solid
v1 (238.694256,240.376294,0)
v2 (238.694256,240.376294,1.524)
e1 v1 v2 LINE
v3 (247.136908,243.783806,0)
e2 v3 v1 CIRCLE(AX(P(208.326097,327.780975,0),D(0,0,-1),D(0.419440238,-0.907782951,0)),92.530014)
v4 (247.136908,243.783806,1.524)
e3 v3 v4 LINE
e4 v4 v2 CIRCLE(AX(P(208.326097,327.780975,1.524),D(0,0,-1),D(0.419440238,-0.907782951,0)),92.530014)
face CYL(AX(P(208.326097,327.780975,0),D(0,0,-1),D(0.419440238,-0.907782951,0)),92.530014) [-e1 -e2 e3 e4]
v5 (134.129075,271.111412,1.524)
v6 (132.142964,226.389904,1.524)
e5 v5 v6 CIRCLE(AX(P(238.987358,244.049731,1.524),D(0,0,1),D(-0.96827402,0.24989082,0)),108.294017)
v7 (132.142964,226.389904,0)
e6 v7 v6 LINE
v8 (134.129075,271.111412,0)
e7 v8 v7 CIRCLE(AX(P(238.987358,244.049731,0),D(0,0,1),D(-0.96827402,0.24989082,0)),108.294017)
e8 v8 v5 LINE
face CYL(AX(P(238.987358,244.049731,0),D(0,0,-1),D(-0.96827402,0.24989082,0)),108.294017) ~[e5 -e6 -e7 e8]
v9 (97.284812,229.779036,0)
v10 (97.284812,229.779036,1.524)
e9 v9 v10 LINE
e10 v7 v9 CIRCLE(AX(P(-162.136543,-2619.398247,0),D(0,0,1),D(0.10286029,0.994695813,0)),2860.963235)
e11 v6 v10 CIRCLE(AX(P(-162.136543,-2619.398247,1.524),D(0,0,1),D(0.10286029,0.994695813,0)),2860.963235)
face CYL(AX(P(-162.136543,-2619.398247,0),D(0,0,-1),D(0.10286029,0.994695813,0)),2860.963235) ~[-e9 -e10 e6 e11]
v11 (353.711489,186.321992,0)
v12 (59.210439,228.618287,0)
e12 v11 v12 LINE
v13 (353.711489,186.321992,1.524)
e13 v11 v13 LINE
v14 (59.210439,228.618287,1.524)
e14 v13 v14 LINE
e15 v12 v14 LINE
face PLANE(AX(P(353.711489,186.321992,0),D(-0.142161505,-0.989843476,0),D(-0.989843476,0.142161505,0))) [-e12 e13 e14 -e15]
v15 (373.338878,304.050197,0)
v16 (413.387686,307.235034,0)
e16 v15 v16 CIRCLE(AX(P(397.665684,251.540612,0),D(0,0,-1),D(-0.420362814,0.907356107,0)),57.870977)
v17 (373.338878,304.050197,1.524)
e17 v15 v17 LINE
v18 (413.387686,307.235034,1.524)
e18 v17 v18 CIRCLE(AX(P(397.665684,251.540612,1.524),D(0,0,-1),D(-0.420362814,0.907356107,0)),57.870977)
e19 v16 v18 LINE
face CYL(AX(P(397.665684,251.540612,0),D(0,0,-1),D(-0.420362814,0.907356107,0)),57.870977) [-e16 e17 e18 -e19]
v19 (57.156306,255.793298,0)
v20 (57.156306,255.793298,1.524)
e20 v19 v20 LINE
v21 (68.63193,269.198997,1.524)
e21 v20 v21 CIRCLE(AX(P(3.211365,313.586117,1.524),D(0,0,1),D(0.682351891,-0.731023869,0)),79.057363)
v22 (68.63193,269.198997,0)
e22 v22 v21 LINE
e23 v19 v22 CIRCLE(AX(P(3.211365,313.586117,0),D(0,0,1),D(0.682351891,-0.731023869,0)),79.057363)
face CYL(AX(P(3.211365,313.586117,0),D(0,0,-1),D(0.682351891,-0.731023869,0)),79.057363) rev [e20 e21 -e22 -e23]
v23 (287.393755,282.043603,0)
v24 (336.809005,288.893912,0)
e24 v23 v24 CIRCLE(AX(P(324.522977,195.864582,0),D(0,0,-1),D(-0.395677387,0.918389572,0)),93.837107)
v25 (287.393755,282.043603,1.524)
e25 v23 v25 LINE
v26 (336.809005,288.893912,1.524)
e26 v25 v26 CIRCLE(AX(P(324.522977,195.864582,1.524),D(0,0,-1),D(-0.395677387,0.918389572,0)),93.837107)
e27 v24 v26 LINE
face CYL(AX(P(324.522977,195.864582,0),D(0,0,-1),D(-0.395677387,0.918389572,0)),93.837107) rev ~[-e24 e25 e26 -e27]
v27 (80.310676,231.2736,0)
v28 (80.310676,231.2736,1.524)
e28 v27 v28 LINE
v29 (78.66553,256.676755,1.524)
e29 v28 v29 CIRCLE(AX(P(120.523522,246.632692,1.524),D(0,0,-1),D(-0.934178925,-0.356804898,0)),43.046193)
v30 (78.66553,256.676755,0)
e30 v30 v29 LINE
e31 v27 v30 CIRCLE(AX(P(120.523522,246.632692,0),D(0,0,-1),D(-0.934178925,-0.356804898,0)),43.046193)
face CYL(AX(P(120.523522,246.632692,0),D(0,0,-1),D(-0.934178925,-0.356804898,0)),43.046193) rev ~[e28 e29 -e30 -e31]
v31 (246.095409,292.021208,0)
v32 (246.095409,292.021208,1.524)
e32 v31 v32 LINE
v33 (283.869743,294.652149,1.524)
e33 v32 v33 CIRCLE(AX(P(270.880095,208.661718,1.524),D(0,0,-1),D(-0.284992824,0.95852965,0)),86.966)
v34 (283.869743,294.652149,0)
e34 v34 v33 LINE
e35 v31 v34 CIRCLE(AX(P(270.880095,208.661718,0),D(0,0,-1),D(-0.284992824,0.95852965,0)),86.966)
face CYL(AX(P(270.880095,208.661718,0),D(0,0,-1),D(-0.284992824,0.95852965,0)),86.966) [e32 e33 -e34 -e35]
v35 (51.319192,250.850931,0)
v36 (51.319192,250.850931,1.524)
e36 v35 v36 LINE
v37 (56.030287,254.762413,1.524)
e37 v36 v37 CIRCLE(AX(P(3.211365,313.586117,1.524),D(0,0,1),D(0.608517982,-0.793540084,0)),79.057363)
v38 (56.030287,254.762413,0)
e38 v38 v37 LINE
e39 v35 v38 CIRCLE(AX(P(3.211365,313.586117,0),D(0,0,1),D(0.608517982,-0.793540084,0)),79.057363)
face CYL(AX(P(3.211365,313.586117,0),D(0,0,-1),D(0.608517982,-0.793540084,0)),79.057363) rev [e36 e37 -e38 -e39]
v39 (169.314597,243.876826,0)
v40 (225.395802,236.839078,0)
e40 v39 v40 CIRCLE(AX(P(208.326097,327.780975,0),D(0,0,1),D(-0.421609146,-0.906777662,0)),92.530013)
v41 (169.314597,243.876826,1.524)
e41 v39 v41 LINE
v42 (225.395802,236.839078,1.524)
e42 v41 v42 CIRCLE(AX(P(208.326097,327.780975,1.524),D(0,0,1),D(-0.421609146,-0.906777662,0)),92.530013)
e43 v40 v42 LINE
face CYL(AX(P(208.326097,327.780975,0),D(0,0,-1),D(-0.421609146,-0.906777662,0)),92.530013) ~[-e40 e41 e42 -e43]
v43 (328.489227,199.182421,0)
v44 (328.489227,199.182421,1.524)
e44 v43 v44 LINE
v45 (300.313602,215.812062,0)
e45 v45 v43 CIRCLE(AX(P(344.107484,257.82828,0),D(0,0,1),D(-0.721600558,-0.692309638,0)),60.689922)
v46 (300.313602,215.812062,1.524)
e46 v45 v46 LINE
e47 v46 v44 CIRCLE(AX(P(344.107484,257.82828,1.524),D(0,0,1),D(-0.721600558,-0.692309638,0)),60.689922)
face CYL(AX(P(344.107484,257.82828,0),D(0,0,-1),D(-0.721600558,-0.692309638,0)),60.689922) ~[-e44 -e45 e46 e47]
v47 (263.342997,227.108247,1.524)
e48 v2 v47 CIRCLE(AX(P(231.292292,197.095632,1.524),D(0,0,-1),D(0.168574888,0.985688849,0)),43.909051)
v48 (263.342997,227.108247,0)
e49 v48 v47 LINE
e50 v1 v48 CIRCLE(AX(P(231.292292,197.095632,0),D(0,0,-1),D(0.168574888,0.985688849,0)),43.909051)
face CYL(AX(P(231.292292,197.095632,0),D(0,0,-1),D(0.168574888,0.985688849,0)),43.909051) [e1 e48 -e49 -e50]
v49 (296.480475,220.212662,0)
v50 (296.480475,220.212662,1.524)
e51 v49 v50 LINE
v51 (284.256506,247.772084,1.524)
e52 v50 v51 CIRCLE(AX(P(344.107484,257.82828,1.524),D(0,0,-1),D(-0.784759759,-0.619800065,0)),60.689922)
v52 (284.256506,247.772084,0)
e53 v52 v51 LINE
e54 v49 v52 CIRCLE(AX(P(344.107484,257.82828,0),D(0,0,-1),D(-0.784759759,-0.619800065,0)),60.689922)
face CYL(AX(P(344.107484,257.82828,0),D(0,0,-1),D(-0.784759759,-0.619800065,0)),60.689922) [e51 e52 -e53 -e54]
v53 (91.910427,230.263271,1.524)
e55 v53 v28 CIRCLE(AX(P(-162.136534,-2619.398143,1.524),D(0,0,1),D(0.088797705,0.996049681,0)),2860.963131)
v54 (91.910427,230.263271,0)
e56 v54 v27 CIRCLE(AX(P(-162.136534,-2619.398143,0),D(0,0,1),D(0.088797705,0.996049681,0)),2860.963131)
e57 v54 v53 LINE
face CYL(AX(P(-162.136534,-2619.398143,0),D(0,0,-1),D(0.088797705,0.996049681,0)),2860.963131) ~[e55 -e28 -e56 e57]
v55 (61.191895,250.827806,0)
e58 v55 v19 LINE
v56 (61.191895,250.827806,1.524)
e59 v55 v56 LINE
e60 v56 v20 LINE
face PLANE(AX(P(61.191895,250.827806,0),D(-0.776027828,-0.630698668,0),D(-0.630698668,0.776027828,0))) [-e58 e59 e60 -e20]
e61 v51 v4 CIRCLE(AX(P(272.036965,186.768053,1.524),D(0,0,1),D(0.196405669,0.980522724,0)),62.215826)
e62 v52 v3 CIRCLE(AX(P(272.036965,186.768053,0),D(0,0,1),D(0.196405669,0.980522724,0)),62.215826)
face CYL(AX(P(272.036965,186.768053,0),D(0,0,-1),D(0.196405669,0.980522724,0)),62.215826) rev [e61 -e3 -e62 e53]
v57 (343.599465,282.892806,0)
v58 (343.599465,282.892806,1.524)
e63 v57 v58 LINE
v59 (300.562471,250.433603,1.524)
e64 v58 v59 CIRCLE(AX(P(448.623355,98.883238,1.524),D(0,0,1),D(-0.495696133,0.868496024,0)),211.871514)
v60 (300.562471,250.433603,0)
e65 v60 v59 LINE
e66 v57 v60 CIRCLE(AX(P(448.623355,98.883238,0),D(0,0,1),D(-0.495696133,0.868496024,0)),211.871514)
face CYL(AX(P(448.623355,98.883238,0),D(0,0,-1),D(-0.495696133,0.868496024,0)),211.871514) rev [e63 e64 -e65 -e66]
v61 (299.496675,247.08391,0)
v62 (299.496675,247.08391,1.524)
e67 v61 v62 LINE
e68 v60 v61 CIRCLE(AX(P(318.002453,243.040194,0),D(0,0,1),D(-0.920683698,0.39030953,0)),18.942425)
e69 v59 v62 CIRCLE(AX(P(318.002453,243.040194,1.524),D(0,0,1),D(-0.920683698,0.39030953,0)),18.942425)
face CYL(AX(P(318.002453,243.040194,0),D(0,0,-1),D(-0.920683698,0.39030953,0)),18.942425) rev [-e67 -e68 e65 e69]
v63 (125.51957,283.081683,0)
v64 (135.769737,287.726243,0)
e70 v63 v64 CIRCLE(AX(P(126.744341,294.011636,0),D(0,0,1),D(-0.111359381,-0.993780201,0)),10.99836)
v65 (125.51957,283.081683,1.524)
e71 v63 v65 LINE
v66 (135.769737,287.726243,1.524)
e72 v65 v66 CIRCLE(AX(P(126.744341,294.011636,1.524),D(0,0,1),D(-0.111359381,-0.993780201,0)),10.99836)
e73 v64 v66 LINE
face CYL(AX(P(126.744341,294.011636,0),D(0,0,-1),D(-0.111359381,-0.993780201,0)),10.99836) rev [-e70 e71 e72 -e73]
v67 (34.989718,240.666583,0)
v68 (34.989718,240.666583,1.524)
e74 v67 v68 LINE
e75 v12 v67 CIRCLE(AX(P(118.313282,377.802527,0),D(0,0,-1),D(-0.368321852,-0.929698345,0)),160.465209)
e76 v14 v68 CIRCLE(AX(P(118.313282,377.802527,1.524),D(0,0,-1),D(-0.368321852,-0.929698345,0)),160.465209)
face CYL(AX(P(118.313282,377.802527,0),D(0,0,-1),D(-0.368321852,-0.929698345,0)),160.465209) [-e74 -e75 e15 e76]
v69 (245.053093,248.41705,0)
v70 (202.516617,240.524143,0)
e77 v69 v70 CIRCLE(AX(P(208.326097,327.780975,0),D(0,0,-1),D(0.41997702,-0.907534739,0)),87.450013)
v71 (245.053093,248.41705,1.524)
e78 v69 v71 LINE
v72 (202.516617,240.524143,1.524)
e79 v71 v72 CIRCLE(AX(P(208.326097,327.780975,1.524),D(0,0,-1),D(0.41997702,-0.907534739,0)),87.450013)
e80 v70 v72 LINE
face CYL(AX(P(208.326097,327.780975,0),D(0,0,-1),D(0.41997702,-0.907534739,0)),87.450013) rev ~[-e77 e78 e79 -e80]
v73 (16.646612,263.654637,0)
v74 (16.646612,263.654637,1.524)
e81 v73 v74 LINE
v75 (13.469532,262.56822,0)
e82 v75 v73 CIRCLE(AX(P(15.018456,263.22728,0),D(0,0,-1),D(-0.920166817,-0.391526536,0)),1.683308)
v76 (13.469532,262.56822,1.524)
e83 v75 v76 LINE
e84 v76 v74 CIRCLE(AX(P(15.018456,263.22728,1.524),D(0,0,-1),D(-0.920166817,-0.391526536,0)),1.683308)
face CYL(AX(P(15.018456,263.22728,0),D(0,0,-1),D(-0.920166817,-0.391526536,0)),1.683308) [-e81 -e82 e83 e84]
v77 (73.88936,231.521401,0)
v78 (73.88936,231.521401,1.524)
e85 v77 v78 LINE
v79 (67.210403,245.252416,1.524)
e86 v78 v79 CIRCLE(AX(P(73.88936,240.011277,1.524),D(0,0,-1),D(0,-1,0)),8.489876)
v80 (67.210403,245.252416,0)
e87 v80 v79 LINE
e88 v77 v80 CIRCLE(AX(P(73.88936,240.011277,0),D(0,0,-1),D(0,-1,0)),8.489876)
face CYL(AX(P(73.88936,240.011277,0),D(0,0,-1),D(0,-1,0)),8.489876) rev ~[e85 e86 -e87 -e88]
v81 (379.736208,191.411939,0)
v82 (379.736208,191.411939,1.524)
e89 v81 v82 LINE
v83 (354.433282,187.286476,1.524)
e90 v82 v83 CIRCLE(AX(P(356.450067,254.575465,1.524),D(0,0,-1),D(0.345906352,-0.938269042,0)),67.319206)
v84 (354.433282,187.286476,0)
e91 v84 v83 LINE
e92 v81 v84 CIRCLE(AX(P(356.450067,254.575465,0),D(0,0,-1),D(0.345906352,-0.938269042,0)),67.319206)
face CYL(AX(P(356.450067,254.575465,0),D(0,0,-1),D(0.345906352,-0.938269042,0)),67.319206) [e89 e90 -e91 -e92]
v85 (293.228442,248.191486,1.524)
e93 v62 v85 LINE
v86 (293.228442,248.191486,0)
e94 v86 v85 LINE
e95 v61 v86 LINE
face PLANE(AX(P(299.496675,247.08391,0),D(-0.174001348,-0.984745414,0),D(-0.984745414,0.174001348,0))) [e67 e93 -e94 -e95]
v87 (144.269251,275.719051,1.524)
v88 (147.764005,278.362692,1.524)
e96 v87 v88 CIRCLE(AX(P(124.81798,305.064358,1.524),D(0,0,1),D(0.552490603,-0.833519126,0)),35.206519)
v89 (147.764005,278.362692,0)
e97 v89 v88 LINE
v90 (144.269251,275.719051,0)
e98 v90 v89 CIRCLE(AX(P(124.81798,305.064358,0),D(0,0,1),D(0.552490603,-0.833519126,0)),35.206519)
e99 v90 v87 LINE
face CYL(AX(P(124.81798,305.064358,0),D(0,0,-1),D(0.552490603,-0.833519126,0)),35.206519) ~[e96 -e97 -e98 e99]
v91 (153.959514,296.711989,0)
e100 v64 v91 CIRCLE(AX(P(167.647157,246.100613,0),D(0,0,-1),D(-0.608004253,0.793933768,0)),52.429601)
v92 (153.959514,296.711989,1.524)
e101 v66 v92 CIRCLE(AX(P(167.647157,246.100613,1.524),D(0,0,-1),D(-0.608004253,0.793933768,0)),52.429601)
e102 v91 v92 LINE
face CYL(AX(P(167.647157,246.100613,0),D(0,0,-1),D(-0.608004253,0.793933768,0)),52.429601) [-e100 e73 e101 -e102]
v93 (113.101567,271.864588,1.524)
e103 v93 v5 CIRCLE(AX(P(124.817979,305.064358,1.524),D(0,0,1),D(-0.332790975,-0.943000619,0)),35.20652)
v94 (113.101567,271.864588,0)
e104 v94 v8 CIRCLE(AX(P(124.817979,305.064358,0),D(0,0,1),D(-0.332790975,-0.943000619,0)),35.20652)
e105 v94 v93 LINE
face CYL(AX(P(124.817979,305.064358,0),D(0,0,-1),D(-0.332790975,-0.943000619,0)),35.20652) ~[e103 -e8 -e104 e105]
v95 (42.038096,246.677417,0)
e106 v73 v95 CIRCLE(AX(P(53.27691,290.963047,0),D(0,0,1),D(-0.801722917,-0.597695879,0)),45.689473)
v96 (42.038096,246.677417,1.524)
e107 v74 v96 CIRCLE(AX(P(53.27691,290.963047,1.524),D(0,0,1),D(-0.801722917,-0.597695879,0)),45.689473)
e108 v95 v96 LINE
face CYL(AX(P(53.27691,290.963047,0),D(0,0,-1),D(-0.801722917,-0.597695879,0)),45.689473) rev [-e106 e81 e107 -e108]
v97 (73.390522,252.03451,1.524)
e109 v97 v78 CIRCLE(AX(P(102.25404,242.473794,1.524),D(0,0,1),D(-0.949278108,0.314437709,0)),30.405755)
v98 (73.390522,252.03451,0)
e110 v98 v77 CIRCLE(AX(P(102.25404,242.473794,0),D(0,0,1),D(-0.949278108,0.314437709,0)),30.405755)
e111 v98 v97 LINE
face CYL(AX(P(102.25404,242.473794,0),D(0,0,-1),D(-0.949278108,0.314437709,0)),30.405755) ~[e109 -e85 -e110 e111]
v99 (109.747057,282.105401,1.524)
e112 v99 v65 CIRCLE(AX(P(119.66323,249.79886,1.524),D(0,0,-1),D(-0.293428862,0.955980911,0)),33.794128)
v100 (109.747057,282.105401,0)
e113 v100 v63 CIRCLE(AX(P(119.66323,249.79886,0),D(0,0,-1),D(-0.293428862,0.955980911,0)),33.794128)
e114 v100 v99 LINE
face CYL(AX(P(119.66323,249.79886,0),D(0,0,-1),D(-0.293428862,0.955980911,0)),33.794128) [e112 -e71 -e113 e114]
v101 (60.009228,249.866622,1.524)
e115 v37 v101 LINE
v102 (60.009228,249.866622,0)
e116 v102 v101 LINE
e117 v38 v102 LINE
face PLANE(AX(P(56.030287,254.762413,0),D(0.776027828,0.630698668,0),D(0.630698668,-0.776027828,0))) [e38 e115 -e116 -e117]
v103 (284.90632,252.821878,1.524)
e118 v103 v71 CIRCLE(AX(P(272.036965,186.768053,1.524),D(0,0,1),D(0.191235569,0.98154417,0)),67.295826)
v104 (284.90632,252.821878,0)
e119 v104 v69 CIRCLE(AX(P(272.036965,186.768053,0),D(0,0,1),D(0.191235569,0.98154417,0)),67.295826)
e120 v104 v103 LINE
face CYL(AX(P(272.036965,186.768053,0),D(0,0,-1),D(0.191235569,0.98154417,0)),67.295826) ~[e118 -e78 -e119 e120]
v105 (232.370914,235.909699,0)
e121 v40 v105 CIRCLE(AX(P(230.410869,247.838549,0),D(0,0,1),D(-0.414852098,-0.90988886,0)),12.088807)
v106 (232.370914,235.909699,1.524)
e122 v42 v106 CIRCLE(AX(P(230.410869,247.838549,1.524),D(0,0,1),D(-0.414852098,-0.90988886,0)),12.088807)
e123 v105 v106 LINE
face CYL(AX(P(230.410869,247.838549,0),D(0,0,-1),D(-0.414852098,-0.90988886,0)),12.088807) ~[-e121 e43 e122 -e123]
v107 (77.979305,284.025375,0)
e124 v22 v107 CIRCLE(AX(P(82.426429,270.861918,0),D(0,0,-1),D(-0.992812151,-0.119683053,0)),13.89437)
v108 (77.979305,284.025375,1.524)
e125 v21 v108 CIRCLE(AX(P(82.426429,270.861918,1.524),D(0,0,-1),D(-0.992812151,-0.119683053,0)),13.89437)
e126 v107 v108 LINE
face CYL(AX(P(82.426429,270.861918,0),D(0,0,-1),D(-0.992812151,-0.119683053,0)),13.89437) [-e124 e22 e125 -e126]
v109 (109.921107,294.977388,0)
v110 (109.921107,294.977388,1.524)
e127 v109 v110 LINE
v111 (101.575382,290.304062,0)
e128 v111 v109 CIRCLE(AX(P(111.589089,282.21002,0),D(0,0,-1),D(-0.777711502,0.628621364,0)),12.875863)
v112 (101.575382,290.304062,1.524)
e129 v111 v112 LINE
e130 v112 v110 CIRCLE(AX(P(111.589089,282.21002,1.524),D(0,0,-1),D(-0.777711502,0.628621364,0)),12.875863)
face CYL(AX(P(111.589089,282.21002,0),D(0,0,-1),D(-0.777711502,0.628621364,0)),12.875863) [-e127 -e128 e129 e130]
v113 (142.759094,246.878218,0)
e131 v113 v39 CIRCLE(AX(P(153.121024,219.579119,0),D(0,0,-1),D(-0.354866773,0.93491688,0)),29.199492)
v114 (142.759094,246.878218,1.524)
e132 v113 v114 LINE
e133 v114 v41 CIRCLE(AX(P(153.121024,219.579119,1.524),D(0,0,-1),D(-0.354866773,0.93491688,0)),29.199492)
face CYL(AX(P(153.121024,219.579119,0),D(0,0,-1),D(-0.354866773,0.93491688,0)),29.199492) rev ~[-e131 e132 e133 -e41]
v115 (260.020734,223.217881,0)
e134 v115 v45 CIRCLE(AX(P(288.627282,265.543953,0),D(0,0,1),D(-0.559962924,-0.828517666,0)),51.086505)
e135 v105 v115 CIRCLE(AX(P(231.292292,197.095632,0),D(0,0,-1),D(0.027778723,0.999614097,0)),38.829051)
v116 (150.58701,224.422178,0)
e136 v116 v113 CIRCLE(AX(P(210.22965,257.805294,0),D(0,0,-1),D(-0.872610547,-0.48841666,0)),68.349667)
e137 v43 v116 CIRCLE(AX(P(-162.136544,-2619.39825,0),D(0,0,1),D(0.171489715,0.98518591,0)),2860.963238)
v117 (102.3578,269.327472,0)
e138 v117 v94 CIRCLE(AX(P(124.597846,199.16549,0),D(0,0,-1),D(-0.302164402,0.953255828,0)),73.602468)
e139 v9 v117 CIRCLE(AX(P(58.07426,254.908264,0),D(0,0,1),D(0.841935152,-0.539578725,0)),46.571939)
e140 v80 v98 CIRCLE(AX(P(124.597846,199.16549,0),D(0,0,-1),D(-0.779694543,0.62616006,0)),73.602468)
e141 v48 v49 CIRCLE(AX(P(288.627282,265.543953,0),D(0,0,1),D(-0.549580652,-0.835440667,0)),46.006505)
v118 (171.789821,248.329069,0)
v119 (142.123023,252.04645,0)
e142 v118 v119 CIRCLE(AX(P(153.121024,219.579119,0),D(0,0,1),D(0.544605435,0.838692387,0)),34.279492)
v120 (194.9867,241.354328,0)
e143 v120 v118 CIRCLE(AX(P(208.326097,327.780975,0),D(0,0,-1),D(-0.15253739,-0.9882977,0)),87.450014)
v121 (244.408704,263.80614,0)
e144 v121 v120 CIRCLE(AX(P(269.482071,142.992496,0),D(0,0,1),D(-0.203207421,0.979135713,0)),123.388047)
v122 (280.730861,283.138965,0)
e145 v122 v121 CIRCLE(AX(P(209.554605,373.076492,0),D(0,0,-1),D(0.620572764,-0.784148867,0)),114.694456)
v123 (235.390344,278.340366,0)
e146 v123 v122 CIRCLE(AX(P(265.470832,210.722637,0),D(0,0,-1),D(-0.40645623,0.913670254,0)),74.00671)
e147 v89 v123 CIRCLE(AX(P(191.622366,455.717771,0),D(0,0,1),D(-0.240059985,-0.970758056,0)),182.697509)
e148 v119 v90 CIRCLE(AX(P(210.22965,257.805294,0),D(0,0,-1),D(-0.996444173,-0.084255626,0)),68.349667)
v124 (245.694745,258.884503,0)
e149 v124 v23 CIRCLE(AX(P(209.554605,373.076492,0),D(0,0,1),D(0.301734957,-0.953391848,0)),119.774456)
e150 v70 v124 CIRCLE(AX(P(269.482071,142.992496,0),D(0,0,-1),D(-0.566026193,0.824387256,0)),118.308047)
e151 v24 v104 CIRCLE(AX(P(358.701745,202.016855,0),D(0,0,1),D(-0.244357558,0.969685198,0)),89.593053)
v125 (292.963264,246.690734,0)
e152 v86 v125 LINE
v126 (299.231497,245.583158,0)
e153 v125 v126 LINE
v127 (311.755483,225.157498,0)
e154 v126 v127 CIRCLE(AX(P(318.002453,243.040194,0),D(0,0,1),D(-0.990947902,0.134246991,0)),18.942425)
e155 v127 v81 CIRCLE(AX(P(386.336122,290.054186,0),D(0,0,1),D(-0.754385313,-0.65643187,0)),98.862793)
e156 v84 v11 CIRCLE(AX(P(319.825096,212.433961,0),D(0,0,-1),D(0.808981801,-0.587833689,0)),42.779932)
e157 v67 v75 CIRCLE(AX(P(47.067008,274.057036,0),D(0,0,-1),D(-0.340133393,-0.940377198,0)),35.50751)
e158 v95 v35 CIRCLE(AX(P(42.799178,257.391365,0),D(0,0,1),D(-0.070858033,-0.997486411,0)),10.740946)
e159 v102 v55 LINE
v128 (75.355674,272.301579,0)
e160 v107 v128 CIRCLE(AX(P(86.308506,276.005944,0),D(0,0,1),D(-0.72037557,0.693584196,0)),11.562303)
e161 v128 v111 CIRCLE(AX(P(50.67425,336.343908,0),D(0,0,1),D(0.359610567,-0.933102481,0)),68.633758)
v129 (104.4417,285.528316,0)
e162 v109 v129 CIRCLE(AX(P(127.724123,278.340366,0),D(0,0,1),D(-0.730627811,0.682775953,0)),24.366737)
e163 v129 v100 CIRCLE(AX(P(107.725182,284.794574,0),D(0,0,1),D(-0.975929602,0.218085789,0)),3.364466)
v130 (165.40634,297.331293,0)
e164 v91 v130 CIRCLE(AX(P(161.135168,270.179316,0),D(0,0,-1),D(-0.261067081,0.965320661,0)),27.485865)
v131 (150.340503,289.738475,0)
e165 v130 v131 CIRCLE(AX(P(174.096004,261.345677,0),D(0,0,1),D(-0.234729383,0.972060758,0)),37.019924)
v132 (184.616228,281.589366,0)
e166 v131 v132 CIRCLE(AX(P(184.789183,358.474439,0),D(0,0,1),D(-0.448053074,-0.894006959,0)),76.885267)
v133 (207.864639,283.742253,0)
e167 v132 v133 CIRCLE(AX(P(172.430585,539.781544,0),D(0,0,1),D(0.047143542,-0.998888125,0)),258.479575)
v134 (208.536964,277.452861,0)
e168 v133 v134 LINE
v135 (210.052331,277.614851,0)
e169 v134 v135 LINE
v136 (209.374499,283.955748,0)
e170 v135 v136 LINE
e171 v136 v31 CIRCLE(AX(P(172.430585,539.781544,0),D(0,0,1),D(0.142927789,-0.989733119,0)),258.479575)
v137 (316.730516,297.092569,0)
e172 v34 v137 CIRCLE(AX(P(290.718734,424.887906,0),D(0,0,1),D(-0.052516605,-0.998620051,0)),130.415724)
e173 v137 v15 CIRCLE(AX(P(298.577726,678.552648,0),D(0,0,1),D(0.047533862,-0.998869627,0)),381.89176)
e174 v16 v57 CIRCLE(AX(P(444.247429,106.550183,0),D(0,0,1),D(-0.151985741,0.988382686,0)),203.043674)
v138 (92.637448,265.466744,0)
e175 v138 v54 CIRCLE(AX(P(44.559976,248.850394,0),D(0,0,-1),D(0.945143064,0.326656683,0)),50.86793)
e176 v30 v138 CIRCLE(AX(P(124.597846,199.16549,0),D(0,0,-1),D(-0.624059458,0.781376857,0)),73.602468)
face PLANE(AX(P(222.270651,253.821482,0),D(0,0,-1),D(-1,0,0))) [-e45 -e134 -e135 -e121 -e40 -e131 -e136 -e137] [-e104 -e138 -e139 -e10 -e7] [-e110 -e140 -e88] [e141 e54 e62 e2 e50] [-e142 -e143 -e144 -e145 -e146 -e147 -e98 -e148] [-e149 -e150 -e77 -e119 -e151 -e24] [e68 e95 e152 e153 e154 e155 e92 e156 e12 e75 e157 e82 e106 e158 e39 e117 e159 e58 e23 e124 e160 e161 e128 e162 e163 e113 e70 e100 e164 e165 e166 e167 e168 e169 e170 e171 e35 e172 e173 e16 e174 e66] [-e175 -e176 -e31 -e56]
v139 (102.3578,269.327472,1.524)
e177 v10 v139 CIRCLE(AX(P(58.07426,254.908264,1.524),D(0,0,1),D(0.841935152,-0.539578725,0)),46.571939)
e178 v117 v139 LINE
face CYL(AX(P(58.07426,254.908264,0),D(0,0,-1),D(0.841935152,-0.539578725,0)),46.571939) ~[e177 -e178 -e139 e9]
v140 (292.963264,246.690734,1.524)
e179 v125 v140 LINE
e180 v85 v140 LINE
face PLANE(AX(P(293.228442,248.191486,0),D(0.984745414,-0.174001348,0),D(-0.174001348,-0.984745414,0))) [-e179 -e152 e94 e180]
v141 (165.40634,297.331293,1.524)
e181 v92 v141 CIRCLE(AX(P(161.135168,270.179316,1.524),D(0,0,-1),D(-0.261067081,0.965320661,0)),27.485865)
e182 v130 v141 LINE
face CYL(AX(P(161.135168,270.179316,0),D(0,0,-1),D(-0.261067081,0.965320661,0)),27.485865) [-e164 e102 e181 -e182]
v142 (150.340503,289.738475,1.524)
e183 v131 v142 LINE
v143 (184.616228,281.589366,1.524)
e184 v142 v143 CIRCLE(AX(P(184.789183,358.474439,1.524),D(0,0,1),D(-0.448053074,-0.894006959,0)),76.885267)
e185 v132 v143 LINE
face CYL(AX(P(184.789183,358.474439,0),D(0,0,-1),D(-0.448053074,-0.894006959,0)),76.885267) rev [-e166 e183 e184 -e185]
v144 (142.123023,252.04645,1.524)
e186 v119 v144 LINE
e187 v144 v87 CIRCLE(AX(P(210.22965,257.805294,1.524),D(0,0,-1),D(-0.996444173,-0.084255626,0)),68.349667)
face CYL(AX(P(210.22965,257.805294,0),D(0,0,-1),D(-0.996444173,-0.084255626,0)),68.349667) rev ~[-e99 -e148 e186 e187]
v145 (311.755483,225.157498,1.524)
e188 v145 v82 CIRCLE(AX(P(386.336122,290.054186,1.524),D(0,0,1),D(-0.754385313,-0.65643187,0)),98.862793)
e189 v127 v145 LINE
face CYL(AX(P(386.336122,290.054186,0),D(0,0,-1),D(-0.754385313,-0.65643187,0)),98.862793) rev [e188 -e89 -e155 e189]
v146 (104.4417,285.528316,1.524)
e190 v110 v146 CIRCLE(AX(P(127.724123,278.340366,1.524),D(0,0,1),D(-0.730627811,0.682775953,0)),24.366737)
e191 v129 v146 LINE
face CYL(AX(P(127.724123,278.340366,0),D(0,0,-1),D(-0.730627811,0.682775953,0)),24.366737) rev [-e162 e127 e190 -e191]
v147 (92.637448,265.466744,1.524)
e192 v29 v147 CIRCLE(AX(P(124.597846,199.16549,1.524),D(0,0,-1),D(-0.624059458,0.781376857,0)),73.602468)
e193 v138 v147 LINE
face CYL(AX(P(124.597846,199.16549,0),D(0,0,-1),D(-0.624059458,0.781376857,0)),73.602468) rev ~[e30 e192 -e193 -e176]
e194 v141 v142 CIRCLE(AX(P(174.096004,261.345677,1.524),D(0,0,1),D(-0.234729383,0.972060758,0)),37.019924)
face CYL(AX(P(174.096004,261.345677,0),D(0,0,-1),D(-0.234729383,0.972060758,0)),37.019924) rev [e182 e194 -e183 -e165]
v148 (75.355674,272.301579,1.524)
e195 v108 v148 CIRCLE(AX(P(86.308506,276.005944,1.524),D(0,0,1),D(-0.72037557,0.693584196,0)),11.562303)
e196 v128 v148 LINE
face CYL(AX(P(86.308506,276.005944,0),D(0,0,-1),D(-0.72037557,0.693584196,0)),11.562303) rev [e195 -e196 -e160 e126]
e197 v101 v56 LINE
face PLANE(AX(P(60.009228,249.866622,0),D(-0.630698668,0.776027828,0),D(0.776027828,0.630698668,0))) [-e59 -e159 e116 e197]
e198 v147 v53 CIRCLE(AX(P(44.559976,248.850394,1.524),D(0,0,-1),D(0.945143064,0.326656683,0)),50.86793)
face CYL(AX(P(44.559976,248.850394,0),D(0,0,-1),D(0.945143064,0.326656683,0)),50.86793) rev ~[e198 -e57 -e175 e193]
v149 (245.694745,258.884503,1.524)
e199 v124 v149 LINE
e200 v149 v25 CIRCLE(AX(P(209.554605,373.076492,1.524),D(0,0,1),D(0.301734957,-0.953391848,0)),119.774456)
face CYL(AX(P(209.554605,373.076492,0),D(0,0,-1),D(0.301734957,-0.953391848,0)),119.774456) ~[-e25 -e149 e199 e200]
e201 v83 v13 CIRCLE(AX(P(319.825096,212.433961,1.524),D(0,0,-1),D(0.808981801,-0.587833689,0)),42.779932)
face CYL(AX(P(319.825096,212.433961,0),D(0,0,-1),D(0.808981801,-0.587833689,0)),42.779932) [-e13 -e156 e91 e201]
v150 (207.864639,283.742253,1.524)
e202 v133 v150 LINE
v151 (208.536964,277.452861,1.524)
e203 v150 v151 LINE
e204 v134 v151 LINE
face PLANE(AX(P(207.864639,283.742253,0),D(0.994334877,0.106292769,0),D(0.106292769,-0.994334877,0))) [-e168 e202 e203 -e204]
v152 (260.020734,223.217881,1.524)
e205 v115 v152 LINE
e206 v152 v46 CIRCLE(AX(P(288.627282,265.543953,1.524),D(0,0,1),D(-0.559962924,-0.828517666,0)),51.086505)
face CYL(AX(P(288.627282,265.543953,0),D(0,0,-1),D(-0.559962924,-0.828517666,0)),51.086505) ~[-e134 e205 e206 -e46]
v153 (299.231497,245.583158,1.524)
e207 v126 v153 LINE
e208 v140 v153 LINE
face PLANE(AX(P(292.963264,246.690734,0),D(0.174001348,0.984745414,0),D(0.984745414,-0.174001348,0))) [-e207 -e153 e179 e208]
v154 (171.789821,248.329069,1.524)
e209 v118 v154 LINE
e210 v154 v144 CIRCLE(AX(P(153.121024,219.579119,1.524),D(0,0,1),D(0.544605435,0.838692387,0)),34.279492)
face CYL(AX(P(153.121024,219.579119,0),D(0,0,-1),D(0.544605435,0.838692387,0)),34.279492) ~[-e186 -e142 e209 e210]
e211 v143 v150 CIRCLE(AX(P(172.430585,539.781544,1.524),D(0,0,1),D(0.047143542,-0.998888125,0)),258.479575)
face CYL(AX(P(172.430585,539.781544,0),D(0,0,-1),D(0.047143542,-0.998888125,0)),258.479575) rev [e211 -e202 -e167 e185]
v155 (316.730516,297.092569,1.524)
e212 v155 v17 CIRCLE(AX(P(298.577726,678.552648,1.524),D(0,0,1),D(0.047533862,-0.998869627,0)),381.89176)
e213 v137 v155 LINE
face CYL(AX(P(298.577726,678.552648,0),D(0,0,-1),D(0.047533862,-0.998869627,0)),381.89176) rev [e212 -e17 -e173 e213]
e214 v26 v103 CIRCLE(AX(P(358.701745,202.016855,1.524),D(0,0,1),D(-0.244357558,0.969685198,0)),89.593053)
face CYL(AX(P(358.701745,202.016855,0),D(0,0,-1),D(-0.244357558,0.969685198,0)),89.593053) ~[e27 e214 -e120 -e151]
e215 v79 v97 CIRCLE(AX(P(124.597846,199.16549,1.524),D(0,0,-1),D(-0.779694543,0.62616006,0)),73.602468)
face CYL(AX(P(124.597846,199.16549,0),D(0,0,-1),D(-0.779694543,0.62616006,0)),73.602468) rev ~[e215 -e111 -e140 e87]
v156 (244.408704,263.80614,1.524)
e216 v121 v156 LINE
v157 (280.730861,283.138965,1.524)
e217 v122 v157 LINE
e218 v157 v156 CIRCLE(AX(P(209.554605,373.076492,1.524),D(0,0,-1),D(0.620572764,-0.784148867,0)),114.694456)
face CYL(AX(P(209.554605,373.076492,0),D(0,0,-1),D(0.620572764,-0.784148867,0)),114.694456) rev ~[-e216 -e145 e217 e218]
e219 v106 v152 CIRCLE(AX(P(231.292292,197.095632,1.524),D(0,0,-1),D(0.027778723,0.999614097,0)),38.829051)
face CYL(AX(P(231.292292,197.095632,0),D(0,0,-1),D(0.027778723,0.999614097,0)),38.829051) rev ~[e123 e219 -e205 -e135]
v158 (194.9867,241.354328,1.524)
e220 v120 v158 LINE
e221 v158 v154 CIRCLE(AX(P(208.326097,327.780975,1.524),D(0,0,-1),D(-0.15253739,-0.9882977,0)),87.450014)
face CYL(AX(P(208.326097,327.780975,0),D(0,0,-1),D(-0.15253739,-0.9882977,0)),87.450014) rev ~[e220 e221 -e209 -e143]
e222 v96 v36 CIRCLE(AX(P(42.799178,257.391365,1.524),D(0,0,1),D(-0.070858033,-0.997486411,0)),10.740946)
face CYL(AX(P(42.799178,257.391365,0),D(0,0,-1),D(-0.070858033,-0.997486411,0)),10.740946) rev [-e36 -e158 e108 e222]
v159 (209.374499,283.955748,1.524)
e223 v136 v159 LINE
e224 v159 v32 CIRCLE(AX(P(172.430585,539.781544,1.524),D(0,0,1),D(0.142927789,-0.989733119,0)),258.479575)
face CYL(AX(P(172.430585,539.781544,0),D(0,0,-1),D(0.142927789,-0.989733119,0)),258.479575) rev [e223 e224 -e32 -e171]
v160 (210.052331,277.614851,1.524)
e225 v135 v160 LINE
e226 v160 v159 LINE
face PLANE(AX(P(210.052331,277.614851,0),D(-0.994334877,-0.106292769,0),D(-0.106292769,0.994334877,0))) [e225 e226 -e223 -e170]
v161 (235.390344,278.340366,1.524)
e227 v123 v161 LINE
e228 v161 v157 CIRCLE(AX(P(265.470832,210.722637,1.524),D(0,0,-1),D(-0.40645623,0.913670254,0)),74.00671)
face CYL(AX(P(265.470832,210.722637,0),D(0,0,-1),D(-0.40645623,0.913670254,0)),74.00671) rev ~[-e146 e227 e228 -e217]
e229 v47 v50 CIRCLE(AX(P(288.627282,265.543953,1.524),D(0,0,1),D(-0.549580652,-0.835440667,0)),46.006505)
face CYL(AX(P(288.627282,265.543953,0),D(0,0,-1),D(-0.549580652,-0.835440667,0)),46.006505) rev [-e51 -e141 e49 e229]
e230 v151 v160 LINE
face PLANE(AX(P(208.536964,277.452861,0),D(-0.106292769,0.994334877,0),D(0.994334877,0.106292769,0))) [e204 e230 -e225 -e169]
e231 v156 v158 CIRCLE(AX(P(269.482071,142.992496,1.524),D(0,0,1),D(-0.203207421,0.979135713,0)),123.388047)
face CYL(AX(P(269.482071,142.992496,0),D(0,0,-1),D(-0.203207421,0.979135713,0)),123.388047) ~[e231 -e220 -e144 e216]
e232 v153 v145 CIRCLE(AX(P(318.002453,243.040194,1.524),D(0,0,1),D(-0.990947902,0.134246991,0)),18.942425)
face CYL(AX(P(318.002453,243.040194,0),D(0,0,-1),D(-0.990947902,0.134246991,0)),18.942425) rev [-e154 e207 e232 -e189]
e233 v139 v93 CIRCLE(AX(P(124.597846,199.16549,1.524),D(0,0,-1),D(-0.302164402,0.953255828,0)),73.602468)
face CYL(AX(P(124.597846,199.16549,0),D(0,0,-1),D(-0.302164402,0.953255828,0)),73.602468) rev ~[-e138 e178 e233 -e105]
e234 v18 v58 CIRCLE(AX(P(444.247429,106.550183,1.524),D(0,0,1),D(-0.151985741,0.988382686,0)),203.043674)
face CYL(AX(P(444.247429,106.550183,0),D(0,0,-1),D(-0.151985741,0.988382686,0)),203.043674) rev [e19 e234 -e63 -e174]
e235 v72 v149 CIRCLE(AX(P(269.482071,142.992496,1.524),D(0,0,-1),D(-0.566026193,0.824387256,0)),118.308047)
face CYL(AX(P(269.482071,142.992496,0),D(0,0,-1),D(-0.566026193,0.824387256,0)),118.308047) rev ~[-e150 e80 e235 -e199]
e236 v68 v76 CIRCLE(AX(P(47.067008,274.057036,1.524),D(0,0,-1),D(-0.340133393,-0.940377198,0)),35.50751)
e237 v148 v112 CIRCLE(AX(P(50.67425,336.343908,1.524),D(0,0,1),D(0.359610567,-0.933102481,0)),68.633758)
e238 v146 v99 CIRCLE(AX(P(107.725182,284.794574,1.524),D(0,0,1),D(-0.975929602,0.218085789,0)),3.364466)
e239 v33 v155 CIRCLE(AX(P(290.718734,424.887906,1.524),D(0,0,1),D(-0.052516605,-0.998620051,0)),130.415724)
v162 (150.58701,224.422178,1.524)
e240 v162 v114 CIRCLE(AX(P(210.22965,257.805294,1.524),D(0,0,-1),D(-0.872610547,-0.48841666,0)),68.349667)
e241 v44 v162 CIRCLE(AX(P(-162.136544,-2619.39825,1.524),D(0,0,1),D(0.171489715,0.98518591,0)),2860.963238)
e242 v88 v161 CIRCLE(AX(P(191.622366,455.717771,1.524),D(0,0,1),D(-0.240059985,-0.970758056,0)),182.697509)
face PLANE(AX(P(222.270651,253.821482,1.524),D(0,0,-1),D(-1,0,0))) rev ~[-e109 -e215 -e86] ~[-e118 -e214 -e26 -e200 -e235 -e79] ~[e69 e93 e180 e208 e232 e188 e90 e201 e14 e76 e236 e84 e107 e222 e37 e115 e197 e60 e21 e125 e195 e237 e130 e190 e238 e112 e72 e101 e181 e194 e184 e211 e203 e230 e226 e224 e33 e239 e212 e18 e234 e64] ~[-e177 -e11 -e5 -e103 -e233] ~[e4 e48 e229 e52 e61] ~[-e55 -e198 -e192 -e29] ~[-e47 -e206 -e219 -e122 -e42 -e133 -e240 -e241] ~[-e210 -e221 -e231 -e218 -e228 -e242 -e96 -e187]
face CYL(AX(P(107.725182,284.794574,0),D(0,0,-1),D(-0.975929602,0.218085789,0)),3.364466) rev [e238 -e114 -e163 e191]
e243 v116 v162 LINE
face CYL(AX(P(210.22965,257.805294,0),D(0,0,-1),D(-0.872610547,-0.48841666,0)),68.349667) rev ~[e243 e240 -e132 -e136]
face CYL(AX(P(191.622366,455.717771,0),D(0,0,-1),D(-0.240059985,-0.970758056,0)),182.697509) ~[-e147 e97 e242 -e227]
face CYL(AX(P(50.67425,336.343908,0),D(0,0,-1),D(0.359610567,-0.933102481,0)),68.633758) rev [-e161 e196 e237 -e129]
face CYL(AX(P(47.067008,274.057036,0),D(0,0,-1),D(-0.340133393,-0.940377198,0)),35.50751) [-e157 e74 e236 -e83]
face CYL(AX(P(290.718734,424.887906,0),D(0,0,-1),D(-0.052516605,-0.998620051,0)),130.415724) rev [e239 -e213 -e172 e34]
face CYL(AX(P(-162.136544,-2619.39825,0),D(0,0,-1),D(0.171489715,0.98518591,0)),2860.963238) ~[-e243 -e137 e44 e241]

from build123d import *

# Parameters (mm, degrees)
BOSS_EXTRUDE1_DEPTH = 1.524


with BuildPart() as part:
    # Sketch1 → Boss-Extrude1 (new body)
    with BuildSketch(Plane.XY):
        with BuildLine():
            Line((299.496674555, 247.083909986), (293.228442315, 248.191486466))
            Line((293.228442315, 248.191486466), (292.963264261, 246.690734455))
            Line((292.963264261, 246.690734455), (299.231496501, 245.583157975))
            ThreePointArc((299.231496501, 245.583157975), (301.853890913, 233.138709027), (311.755483248, 225.157497886))
            ThreePointArc((311.755483248, 225.157497886), (342.378628376, 201.501430101), (379.736207542, 191.411938565))
            ThreePointArc((379.736207542, 191.411938565), (367.282944414, 188.133579217), (354.433282196, 187.286476253))
            ThreePointArc((354.433282196, 187.286476253), (354.075780486, 186.801693195), (353.711488573, 186.321991739))
            Line((353.711488573, 186.321991739), (59.210439319, 228.618287464))
            ThreePointArc((59.210439319, 228.618287464), (46.845732275, 234.131121821), (34.989718338, 240.66658328))
            ThreePointArc((34.989718338, 240.66658328), (21.739819765, 249.170959745), (13.469532472, 262.568219888))
            ThreePointArc((13.469532472, 262.568219888), (14.473805053, 264.820038124), (16.64661192, 263.65463729))
            ThreePointArc((16.64661192, 263.65463729), (27.881645016, 252.981360845), (42.038095614, 246.677417222))
            ThreePointArc((42.038095614, 246.677417222), (47.204267049, 247.59528857), (51.319192238, 250.850930717))
            ThreePointArc((51.319192238, 250.850930717), (53.712623356, 252.761043669), (56.030286878, 254.76241315))
            Line((56.030286878, 254.76241315), (60.009228178, 249.866621656))
            Line((60.009228178, 249.866621656), (61.191894588, 250.827806426))
            Line((61.191894588, 250.827806426), (57.156306316, 255.793297808))
            ThreePointArc((57.156306316, 255.793297808), (63.269330312, 262.174956241), (68.631929607, 269.198997493))
            ThreePointArc((68.631929607, 269.198997493), (70.672937053, 278.271974974), (77.97930542, 284.025375103))
            ThreePointArc((77.97930542, 284.025375103), (75.025286429, 278.530980407), (75.355674106, 272.301578731))
            ThreePointArc((75.355674106, 272.301578731), (89.522712553, 279.763084543), (101.575381834, 290.304062227))
            ThreePointArc((101.575381834, 290.304062227), (105.298186283, 293.444448732), (109.921107262, 294.977387738))
            ThreePointArc((109.921107262, 294.977387738), (106.645115294, 290.563839268), (104.441699592, 285.528316185))
            ThreePointArc((104.441699592, 285.528316185), (105.901175076, 281.967449489), (109.74705726, 282.10540072))
            ThreePointArc((109.74705726, 282.10540072), (117.575446144, 283.528434685), (125.519570472, 283.081683228))
            ThreePointArc((125.519570472, 283.081683228), (131.283660572, 283.993726612), (135.76973662, 287.726243123))
            ThreePointArc((135.76973662, 287.726243123), (144.425837897, 293.107350234), (153.959513951, 296.711989461))
            ThreePointArc((153.959513951, 296.711989461), (159.650281584, 297.625042258), (165.406340408, 297.331293248))
            ThreePointArc((165.406340408, 297.331293248), (157.435124743, 294.404562686), (150.340503018, 289.738475081))
            ThreePointArc((150.340503018, 289.738475081), (167.005302639, 283.674185668), (184.616227681, 281.589366329))
            ThreePointArc((184.616227681, 281.589366329), (196.264753754, 282.403178747), (207.864638646, 283.742253372))
            Line((207.864638646, 283.742253372), (208.536964433, 277.452860551))
            Line((208.536964433, 277.452860551), (210.052330785, 277.614850731))
            Line((210.052330785, 277.614850731), (209.374499216, 283.955748378))
            ThreePointArc((209.374499216, 283.955748378), (227.881790203, 287.319954151), (246.095409129, 292.02120779))
            ThreePointArc((246.095409129, 292.02120779), (264.837645669, 295.417547796), (283.869742792, 294.652149172))
            ThreePointArc((283.869742792, 294.652149172), (300.377514826, 294.830345717), (316.730515739, 297.09256867))
            ThreePointArc((316.730515739, 297.09256867), (345.164765747, 299.513120241), (373.338877641, 304.050196657))
            ThreePointArc((373.338877641, 304.050196657), (393.078041438, 309.22946311), (413.38768552, 307.235034456))
            ThreePointArc((413.38768552, 307.235034456), (377.376618301, 298.266191923), (343.59946469, 282.892806069))
            ThreePointArc((343.59946469, 282.892806069), (321.044455039, 268.037495843), (300.562470929, 250.433603398))
            ThreePointArc((300.562470929, 250.433603398), (299.951704088, 248.78353273), (299.496674555, 247.083909986))
        make_face()
        with BuildLine():
            ThreePointArc((328.489226954, 199.182421434), (239.736316258, 213.199295119), (150.587010018, 224.42217807))
            ThreePointArc((150.587010018, 224.42217807), (145.688890945, 235.30713064), (142.759093928, 246.878217553))
            ThreePointArc((142.759093928, 246.878217553), (156.400368795, 248.593878404), (169.314596837, 243.8768257))
            ThreePointArc((169.314596837, 243.8768257), (196.80467914, 235.971060868), (225.395801684, 236.839078326))
            ThreePointArc((225.395801684, 236.839078326), (228.814239063, 235.855643459), (232.370913957, 235.909698546))
            ThreePointArc((232.370913957, 235.909698546), (247.490619756, 232.384573367), (260.020733604, 223.217880511))
            ThreePointArc((260.020733604, 223.217880511), (279.392290374, 215.299092788), (300.31360184, 215.812061861))
            ThreePointArc((300.31360184, 215.812061861), (313.259683309, 205.562804926), (328.489226954, 199.182421434))
        make_face(mode=Mode.SUBTRACT)
        with BuildLine():
            ThreePointArc((73.889360105, 231.521400998), (66.254747612, 236.297695357), (67.210403263, 245.252415788))
            ThreePointArc((67.210403263, 245.252415788), (70.194674676, 248.739861019), (73.390521828, 252.034509875))
            ThreePointArc((73.390521828, 252.034509875), (71.857270881, 241.734604422), (73.889360105, 231.521400998))
        make_face(mode=Mode.SUBTRACT)
        with BuildLine():
            ThreePointArc((113.10156747, 271.864588213), (123.557739252, 269.880401171), (134.129074941, 271.111412263))
            ThreePointArc((134.129074941, 271.111412263), (130.799977878, 248.854403449), (132.142963674, 226.389904395))
            ThreePointArc((132.142963674, 226.389904395), (114.719074022, 228.137810366), (97.284812247, 229.779036204))
            ThreePointArc((97.284812247, 229.779036204), (104.267717835, 248.98290031), (102.357800113, 269.327471609))
            ThreePointArc((102.357800113, 269.327471609), (107.682050527, 270.797739485), (113.10156747, 271.864588213))
        make_face(mode=Mode.SUBTRACT)
        with BuildLine():
            ThreePointArc((147.76400458, 278.362692247), (191.575815975, 273.02026788), (235.390344097, 278.340365744))
            ThreePointArc((235.390344097, 278.340365744), (257.681856345, 284.318322066), (280.730860591, 283.138964891))
            ThreePointArc((280.730860591, 283.138964891), (263.443829779, 271.830407732), (244.408703812, 263.806139622))
            ThreePointArc((244.408703812, 263.806139622), (218.447725967, 255.331740571), (194.986699965, 241.354327761))
            ThreePointArc((194.986699965, 241.354327761), (183.145599945, 244.034647083), (171.789821421, 248.329068519))
            ThreePointArc((171.789821421, 248.329068519), (157.383066968, 253.59262513), (142.123022895, 252.046450178))
            ThreePointArc((142.123022895, 252.046450178), (142.159172604, 263.976764596), (144.269250711, 275.719050545))
            ThreePointArc((144.269250711, 275.719050545), (146.057798086, 276.986446261), (147.76400458, 278.362692247))
        make_face(mode=Mode.SUBTRACT)
        with BuildLine():
            ThreePointArc((287.393755321, 282.043602932), (311.637801497, 288.812820245), (336.809005326, 288.893911982))
            ThreePointArc((336.809005326, 288.893911982), (307.570989951, 275.586964292), (284.906320156, 252.821878241))
            ThreePointArc((284.906320156, 252.821878241), (264.644027419, 253.656561884), (245.053092851, 248.417049837))
            ThreePointArc((245.053092851, 248.417049837), (224.280647922, 241.798667768), (202.516617159, 240.524142565))
            ThreePointArc((202.516617159, 240.524142565), (223.186364423, 251.866283632), (245.694745472, 258.884502671))
            ThreePointArc((245.694745472, 258.884502671), (267.708759315, 268.367301705), (287.393755321, 282.043602932))
        make_face(mode=Mode.SUBTRACT)
        with BuildLine():
            ThreePointArc((92.637447972, 265.466743872), (95.417062565, 247.800095776), (91.910427153, 230.263271083))
            ThreePointArc((91.910427153, 230.263271083), (86.111065378, 230.774336481), (80.310675632, 231.273599578))
            ThreePointArc((80.310675632, 231.273599578), (77.567314948, 243.850784297), (78.665529568, 256.676755136))
            ThreePointArc((78.665529568, 256.676755136), (85.404291465, 261.464676125), (92.637447972, 265.466743872))
        make_face(mode=Mode.SUBTRACT)
        with BuildLine():
            ThreePointArc((284.256505511, 247.772083796), (265.390502286, 248.627841972), (247.136907632, 243.783806264))
            ThreePointArc((247.136907632, 243.783806264), (242.957516866, 241.976149158), (238.694255905, 240.376293737))
            ThreePointArc((238.694255905, 240.376293737), (252.104272767, 235.759131886), (263.342997343, 227.108247207))
            ThreePointArc((263.342997343, 227.108247207), (279.254554924, 220.502299636), (296.480474873, 220.212662162))
            ThreePointArc((296.480474873, 220.212662162), (288.629921984, 233.221231814), (284.256505511, 247.772083796))
        make_face(mode=Mode.SUBTRACT)
    extrude(amount=BOSS_EXTRUDE1_DEPTH)


solid = part.part
